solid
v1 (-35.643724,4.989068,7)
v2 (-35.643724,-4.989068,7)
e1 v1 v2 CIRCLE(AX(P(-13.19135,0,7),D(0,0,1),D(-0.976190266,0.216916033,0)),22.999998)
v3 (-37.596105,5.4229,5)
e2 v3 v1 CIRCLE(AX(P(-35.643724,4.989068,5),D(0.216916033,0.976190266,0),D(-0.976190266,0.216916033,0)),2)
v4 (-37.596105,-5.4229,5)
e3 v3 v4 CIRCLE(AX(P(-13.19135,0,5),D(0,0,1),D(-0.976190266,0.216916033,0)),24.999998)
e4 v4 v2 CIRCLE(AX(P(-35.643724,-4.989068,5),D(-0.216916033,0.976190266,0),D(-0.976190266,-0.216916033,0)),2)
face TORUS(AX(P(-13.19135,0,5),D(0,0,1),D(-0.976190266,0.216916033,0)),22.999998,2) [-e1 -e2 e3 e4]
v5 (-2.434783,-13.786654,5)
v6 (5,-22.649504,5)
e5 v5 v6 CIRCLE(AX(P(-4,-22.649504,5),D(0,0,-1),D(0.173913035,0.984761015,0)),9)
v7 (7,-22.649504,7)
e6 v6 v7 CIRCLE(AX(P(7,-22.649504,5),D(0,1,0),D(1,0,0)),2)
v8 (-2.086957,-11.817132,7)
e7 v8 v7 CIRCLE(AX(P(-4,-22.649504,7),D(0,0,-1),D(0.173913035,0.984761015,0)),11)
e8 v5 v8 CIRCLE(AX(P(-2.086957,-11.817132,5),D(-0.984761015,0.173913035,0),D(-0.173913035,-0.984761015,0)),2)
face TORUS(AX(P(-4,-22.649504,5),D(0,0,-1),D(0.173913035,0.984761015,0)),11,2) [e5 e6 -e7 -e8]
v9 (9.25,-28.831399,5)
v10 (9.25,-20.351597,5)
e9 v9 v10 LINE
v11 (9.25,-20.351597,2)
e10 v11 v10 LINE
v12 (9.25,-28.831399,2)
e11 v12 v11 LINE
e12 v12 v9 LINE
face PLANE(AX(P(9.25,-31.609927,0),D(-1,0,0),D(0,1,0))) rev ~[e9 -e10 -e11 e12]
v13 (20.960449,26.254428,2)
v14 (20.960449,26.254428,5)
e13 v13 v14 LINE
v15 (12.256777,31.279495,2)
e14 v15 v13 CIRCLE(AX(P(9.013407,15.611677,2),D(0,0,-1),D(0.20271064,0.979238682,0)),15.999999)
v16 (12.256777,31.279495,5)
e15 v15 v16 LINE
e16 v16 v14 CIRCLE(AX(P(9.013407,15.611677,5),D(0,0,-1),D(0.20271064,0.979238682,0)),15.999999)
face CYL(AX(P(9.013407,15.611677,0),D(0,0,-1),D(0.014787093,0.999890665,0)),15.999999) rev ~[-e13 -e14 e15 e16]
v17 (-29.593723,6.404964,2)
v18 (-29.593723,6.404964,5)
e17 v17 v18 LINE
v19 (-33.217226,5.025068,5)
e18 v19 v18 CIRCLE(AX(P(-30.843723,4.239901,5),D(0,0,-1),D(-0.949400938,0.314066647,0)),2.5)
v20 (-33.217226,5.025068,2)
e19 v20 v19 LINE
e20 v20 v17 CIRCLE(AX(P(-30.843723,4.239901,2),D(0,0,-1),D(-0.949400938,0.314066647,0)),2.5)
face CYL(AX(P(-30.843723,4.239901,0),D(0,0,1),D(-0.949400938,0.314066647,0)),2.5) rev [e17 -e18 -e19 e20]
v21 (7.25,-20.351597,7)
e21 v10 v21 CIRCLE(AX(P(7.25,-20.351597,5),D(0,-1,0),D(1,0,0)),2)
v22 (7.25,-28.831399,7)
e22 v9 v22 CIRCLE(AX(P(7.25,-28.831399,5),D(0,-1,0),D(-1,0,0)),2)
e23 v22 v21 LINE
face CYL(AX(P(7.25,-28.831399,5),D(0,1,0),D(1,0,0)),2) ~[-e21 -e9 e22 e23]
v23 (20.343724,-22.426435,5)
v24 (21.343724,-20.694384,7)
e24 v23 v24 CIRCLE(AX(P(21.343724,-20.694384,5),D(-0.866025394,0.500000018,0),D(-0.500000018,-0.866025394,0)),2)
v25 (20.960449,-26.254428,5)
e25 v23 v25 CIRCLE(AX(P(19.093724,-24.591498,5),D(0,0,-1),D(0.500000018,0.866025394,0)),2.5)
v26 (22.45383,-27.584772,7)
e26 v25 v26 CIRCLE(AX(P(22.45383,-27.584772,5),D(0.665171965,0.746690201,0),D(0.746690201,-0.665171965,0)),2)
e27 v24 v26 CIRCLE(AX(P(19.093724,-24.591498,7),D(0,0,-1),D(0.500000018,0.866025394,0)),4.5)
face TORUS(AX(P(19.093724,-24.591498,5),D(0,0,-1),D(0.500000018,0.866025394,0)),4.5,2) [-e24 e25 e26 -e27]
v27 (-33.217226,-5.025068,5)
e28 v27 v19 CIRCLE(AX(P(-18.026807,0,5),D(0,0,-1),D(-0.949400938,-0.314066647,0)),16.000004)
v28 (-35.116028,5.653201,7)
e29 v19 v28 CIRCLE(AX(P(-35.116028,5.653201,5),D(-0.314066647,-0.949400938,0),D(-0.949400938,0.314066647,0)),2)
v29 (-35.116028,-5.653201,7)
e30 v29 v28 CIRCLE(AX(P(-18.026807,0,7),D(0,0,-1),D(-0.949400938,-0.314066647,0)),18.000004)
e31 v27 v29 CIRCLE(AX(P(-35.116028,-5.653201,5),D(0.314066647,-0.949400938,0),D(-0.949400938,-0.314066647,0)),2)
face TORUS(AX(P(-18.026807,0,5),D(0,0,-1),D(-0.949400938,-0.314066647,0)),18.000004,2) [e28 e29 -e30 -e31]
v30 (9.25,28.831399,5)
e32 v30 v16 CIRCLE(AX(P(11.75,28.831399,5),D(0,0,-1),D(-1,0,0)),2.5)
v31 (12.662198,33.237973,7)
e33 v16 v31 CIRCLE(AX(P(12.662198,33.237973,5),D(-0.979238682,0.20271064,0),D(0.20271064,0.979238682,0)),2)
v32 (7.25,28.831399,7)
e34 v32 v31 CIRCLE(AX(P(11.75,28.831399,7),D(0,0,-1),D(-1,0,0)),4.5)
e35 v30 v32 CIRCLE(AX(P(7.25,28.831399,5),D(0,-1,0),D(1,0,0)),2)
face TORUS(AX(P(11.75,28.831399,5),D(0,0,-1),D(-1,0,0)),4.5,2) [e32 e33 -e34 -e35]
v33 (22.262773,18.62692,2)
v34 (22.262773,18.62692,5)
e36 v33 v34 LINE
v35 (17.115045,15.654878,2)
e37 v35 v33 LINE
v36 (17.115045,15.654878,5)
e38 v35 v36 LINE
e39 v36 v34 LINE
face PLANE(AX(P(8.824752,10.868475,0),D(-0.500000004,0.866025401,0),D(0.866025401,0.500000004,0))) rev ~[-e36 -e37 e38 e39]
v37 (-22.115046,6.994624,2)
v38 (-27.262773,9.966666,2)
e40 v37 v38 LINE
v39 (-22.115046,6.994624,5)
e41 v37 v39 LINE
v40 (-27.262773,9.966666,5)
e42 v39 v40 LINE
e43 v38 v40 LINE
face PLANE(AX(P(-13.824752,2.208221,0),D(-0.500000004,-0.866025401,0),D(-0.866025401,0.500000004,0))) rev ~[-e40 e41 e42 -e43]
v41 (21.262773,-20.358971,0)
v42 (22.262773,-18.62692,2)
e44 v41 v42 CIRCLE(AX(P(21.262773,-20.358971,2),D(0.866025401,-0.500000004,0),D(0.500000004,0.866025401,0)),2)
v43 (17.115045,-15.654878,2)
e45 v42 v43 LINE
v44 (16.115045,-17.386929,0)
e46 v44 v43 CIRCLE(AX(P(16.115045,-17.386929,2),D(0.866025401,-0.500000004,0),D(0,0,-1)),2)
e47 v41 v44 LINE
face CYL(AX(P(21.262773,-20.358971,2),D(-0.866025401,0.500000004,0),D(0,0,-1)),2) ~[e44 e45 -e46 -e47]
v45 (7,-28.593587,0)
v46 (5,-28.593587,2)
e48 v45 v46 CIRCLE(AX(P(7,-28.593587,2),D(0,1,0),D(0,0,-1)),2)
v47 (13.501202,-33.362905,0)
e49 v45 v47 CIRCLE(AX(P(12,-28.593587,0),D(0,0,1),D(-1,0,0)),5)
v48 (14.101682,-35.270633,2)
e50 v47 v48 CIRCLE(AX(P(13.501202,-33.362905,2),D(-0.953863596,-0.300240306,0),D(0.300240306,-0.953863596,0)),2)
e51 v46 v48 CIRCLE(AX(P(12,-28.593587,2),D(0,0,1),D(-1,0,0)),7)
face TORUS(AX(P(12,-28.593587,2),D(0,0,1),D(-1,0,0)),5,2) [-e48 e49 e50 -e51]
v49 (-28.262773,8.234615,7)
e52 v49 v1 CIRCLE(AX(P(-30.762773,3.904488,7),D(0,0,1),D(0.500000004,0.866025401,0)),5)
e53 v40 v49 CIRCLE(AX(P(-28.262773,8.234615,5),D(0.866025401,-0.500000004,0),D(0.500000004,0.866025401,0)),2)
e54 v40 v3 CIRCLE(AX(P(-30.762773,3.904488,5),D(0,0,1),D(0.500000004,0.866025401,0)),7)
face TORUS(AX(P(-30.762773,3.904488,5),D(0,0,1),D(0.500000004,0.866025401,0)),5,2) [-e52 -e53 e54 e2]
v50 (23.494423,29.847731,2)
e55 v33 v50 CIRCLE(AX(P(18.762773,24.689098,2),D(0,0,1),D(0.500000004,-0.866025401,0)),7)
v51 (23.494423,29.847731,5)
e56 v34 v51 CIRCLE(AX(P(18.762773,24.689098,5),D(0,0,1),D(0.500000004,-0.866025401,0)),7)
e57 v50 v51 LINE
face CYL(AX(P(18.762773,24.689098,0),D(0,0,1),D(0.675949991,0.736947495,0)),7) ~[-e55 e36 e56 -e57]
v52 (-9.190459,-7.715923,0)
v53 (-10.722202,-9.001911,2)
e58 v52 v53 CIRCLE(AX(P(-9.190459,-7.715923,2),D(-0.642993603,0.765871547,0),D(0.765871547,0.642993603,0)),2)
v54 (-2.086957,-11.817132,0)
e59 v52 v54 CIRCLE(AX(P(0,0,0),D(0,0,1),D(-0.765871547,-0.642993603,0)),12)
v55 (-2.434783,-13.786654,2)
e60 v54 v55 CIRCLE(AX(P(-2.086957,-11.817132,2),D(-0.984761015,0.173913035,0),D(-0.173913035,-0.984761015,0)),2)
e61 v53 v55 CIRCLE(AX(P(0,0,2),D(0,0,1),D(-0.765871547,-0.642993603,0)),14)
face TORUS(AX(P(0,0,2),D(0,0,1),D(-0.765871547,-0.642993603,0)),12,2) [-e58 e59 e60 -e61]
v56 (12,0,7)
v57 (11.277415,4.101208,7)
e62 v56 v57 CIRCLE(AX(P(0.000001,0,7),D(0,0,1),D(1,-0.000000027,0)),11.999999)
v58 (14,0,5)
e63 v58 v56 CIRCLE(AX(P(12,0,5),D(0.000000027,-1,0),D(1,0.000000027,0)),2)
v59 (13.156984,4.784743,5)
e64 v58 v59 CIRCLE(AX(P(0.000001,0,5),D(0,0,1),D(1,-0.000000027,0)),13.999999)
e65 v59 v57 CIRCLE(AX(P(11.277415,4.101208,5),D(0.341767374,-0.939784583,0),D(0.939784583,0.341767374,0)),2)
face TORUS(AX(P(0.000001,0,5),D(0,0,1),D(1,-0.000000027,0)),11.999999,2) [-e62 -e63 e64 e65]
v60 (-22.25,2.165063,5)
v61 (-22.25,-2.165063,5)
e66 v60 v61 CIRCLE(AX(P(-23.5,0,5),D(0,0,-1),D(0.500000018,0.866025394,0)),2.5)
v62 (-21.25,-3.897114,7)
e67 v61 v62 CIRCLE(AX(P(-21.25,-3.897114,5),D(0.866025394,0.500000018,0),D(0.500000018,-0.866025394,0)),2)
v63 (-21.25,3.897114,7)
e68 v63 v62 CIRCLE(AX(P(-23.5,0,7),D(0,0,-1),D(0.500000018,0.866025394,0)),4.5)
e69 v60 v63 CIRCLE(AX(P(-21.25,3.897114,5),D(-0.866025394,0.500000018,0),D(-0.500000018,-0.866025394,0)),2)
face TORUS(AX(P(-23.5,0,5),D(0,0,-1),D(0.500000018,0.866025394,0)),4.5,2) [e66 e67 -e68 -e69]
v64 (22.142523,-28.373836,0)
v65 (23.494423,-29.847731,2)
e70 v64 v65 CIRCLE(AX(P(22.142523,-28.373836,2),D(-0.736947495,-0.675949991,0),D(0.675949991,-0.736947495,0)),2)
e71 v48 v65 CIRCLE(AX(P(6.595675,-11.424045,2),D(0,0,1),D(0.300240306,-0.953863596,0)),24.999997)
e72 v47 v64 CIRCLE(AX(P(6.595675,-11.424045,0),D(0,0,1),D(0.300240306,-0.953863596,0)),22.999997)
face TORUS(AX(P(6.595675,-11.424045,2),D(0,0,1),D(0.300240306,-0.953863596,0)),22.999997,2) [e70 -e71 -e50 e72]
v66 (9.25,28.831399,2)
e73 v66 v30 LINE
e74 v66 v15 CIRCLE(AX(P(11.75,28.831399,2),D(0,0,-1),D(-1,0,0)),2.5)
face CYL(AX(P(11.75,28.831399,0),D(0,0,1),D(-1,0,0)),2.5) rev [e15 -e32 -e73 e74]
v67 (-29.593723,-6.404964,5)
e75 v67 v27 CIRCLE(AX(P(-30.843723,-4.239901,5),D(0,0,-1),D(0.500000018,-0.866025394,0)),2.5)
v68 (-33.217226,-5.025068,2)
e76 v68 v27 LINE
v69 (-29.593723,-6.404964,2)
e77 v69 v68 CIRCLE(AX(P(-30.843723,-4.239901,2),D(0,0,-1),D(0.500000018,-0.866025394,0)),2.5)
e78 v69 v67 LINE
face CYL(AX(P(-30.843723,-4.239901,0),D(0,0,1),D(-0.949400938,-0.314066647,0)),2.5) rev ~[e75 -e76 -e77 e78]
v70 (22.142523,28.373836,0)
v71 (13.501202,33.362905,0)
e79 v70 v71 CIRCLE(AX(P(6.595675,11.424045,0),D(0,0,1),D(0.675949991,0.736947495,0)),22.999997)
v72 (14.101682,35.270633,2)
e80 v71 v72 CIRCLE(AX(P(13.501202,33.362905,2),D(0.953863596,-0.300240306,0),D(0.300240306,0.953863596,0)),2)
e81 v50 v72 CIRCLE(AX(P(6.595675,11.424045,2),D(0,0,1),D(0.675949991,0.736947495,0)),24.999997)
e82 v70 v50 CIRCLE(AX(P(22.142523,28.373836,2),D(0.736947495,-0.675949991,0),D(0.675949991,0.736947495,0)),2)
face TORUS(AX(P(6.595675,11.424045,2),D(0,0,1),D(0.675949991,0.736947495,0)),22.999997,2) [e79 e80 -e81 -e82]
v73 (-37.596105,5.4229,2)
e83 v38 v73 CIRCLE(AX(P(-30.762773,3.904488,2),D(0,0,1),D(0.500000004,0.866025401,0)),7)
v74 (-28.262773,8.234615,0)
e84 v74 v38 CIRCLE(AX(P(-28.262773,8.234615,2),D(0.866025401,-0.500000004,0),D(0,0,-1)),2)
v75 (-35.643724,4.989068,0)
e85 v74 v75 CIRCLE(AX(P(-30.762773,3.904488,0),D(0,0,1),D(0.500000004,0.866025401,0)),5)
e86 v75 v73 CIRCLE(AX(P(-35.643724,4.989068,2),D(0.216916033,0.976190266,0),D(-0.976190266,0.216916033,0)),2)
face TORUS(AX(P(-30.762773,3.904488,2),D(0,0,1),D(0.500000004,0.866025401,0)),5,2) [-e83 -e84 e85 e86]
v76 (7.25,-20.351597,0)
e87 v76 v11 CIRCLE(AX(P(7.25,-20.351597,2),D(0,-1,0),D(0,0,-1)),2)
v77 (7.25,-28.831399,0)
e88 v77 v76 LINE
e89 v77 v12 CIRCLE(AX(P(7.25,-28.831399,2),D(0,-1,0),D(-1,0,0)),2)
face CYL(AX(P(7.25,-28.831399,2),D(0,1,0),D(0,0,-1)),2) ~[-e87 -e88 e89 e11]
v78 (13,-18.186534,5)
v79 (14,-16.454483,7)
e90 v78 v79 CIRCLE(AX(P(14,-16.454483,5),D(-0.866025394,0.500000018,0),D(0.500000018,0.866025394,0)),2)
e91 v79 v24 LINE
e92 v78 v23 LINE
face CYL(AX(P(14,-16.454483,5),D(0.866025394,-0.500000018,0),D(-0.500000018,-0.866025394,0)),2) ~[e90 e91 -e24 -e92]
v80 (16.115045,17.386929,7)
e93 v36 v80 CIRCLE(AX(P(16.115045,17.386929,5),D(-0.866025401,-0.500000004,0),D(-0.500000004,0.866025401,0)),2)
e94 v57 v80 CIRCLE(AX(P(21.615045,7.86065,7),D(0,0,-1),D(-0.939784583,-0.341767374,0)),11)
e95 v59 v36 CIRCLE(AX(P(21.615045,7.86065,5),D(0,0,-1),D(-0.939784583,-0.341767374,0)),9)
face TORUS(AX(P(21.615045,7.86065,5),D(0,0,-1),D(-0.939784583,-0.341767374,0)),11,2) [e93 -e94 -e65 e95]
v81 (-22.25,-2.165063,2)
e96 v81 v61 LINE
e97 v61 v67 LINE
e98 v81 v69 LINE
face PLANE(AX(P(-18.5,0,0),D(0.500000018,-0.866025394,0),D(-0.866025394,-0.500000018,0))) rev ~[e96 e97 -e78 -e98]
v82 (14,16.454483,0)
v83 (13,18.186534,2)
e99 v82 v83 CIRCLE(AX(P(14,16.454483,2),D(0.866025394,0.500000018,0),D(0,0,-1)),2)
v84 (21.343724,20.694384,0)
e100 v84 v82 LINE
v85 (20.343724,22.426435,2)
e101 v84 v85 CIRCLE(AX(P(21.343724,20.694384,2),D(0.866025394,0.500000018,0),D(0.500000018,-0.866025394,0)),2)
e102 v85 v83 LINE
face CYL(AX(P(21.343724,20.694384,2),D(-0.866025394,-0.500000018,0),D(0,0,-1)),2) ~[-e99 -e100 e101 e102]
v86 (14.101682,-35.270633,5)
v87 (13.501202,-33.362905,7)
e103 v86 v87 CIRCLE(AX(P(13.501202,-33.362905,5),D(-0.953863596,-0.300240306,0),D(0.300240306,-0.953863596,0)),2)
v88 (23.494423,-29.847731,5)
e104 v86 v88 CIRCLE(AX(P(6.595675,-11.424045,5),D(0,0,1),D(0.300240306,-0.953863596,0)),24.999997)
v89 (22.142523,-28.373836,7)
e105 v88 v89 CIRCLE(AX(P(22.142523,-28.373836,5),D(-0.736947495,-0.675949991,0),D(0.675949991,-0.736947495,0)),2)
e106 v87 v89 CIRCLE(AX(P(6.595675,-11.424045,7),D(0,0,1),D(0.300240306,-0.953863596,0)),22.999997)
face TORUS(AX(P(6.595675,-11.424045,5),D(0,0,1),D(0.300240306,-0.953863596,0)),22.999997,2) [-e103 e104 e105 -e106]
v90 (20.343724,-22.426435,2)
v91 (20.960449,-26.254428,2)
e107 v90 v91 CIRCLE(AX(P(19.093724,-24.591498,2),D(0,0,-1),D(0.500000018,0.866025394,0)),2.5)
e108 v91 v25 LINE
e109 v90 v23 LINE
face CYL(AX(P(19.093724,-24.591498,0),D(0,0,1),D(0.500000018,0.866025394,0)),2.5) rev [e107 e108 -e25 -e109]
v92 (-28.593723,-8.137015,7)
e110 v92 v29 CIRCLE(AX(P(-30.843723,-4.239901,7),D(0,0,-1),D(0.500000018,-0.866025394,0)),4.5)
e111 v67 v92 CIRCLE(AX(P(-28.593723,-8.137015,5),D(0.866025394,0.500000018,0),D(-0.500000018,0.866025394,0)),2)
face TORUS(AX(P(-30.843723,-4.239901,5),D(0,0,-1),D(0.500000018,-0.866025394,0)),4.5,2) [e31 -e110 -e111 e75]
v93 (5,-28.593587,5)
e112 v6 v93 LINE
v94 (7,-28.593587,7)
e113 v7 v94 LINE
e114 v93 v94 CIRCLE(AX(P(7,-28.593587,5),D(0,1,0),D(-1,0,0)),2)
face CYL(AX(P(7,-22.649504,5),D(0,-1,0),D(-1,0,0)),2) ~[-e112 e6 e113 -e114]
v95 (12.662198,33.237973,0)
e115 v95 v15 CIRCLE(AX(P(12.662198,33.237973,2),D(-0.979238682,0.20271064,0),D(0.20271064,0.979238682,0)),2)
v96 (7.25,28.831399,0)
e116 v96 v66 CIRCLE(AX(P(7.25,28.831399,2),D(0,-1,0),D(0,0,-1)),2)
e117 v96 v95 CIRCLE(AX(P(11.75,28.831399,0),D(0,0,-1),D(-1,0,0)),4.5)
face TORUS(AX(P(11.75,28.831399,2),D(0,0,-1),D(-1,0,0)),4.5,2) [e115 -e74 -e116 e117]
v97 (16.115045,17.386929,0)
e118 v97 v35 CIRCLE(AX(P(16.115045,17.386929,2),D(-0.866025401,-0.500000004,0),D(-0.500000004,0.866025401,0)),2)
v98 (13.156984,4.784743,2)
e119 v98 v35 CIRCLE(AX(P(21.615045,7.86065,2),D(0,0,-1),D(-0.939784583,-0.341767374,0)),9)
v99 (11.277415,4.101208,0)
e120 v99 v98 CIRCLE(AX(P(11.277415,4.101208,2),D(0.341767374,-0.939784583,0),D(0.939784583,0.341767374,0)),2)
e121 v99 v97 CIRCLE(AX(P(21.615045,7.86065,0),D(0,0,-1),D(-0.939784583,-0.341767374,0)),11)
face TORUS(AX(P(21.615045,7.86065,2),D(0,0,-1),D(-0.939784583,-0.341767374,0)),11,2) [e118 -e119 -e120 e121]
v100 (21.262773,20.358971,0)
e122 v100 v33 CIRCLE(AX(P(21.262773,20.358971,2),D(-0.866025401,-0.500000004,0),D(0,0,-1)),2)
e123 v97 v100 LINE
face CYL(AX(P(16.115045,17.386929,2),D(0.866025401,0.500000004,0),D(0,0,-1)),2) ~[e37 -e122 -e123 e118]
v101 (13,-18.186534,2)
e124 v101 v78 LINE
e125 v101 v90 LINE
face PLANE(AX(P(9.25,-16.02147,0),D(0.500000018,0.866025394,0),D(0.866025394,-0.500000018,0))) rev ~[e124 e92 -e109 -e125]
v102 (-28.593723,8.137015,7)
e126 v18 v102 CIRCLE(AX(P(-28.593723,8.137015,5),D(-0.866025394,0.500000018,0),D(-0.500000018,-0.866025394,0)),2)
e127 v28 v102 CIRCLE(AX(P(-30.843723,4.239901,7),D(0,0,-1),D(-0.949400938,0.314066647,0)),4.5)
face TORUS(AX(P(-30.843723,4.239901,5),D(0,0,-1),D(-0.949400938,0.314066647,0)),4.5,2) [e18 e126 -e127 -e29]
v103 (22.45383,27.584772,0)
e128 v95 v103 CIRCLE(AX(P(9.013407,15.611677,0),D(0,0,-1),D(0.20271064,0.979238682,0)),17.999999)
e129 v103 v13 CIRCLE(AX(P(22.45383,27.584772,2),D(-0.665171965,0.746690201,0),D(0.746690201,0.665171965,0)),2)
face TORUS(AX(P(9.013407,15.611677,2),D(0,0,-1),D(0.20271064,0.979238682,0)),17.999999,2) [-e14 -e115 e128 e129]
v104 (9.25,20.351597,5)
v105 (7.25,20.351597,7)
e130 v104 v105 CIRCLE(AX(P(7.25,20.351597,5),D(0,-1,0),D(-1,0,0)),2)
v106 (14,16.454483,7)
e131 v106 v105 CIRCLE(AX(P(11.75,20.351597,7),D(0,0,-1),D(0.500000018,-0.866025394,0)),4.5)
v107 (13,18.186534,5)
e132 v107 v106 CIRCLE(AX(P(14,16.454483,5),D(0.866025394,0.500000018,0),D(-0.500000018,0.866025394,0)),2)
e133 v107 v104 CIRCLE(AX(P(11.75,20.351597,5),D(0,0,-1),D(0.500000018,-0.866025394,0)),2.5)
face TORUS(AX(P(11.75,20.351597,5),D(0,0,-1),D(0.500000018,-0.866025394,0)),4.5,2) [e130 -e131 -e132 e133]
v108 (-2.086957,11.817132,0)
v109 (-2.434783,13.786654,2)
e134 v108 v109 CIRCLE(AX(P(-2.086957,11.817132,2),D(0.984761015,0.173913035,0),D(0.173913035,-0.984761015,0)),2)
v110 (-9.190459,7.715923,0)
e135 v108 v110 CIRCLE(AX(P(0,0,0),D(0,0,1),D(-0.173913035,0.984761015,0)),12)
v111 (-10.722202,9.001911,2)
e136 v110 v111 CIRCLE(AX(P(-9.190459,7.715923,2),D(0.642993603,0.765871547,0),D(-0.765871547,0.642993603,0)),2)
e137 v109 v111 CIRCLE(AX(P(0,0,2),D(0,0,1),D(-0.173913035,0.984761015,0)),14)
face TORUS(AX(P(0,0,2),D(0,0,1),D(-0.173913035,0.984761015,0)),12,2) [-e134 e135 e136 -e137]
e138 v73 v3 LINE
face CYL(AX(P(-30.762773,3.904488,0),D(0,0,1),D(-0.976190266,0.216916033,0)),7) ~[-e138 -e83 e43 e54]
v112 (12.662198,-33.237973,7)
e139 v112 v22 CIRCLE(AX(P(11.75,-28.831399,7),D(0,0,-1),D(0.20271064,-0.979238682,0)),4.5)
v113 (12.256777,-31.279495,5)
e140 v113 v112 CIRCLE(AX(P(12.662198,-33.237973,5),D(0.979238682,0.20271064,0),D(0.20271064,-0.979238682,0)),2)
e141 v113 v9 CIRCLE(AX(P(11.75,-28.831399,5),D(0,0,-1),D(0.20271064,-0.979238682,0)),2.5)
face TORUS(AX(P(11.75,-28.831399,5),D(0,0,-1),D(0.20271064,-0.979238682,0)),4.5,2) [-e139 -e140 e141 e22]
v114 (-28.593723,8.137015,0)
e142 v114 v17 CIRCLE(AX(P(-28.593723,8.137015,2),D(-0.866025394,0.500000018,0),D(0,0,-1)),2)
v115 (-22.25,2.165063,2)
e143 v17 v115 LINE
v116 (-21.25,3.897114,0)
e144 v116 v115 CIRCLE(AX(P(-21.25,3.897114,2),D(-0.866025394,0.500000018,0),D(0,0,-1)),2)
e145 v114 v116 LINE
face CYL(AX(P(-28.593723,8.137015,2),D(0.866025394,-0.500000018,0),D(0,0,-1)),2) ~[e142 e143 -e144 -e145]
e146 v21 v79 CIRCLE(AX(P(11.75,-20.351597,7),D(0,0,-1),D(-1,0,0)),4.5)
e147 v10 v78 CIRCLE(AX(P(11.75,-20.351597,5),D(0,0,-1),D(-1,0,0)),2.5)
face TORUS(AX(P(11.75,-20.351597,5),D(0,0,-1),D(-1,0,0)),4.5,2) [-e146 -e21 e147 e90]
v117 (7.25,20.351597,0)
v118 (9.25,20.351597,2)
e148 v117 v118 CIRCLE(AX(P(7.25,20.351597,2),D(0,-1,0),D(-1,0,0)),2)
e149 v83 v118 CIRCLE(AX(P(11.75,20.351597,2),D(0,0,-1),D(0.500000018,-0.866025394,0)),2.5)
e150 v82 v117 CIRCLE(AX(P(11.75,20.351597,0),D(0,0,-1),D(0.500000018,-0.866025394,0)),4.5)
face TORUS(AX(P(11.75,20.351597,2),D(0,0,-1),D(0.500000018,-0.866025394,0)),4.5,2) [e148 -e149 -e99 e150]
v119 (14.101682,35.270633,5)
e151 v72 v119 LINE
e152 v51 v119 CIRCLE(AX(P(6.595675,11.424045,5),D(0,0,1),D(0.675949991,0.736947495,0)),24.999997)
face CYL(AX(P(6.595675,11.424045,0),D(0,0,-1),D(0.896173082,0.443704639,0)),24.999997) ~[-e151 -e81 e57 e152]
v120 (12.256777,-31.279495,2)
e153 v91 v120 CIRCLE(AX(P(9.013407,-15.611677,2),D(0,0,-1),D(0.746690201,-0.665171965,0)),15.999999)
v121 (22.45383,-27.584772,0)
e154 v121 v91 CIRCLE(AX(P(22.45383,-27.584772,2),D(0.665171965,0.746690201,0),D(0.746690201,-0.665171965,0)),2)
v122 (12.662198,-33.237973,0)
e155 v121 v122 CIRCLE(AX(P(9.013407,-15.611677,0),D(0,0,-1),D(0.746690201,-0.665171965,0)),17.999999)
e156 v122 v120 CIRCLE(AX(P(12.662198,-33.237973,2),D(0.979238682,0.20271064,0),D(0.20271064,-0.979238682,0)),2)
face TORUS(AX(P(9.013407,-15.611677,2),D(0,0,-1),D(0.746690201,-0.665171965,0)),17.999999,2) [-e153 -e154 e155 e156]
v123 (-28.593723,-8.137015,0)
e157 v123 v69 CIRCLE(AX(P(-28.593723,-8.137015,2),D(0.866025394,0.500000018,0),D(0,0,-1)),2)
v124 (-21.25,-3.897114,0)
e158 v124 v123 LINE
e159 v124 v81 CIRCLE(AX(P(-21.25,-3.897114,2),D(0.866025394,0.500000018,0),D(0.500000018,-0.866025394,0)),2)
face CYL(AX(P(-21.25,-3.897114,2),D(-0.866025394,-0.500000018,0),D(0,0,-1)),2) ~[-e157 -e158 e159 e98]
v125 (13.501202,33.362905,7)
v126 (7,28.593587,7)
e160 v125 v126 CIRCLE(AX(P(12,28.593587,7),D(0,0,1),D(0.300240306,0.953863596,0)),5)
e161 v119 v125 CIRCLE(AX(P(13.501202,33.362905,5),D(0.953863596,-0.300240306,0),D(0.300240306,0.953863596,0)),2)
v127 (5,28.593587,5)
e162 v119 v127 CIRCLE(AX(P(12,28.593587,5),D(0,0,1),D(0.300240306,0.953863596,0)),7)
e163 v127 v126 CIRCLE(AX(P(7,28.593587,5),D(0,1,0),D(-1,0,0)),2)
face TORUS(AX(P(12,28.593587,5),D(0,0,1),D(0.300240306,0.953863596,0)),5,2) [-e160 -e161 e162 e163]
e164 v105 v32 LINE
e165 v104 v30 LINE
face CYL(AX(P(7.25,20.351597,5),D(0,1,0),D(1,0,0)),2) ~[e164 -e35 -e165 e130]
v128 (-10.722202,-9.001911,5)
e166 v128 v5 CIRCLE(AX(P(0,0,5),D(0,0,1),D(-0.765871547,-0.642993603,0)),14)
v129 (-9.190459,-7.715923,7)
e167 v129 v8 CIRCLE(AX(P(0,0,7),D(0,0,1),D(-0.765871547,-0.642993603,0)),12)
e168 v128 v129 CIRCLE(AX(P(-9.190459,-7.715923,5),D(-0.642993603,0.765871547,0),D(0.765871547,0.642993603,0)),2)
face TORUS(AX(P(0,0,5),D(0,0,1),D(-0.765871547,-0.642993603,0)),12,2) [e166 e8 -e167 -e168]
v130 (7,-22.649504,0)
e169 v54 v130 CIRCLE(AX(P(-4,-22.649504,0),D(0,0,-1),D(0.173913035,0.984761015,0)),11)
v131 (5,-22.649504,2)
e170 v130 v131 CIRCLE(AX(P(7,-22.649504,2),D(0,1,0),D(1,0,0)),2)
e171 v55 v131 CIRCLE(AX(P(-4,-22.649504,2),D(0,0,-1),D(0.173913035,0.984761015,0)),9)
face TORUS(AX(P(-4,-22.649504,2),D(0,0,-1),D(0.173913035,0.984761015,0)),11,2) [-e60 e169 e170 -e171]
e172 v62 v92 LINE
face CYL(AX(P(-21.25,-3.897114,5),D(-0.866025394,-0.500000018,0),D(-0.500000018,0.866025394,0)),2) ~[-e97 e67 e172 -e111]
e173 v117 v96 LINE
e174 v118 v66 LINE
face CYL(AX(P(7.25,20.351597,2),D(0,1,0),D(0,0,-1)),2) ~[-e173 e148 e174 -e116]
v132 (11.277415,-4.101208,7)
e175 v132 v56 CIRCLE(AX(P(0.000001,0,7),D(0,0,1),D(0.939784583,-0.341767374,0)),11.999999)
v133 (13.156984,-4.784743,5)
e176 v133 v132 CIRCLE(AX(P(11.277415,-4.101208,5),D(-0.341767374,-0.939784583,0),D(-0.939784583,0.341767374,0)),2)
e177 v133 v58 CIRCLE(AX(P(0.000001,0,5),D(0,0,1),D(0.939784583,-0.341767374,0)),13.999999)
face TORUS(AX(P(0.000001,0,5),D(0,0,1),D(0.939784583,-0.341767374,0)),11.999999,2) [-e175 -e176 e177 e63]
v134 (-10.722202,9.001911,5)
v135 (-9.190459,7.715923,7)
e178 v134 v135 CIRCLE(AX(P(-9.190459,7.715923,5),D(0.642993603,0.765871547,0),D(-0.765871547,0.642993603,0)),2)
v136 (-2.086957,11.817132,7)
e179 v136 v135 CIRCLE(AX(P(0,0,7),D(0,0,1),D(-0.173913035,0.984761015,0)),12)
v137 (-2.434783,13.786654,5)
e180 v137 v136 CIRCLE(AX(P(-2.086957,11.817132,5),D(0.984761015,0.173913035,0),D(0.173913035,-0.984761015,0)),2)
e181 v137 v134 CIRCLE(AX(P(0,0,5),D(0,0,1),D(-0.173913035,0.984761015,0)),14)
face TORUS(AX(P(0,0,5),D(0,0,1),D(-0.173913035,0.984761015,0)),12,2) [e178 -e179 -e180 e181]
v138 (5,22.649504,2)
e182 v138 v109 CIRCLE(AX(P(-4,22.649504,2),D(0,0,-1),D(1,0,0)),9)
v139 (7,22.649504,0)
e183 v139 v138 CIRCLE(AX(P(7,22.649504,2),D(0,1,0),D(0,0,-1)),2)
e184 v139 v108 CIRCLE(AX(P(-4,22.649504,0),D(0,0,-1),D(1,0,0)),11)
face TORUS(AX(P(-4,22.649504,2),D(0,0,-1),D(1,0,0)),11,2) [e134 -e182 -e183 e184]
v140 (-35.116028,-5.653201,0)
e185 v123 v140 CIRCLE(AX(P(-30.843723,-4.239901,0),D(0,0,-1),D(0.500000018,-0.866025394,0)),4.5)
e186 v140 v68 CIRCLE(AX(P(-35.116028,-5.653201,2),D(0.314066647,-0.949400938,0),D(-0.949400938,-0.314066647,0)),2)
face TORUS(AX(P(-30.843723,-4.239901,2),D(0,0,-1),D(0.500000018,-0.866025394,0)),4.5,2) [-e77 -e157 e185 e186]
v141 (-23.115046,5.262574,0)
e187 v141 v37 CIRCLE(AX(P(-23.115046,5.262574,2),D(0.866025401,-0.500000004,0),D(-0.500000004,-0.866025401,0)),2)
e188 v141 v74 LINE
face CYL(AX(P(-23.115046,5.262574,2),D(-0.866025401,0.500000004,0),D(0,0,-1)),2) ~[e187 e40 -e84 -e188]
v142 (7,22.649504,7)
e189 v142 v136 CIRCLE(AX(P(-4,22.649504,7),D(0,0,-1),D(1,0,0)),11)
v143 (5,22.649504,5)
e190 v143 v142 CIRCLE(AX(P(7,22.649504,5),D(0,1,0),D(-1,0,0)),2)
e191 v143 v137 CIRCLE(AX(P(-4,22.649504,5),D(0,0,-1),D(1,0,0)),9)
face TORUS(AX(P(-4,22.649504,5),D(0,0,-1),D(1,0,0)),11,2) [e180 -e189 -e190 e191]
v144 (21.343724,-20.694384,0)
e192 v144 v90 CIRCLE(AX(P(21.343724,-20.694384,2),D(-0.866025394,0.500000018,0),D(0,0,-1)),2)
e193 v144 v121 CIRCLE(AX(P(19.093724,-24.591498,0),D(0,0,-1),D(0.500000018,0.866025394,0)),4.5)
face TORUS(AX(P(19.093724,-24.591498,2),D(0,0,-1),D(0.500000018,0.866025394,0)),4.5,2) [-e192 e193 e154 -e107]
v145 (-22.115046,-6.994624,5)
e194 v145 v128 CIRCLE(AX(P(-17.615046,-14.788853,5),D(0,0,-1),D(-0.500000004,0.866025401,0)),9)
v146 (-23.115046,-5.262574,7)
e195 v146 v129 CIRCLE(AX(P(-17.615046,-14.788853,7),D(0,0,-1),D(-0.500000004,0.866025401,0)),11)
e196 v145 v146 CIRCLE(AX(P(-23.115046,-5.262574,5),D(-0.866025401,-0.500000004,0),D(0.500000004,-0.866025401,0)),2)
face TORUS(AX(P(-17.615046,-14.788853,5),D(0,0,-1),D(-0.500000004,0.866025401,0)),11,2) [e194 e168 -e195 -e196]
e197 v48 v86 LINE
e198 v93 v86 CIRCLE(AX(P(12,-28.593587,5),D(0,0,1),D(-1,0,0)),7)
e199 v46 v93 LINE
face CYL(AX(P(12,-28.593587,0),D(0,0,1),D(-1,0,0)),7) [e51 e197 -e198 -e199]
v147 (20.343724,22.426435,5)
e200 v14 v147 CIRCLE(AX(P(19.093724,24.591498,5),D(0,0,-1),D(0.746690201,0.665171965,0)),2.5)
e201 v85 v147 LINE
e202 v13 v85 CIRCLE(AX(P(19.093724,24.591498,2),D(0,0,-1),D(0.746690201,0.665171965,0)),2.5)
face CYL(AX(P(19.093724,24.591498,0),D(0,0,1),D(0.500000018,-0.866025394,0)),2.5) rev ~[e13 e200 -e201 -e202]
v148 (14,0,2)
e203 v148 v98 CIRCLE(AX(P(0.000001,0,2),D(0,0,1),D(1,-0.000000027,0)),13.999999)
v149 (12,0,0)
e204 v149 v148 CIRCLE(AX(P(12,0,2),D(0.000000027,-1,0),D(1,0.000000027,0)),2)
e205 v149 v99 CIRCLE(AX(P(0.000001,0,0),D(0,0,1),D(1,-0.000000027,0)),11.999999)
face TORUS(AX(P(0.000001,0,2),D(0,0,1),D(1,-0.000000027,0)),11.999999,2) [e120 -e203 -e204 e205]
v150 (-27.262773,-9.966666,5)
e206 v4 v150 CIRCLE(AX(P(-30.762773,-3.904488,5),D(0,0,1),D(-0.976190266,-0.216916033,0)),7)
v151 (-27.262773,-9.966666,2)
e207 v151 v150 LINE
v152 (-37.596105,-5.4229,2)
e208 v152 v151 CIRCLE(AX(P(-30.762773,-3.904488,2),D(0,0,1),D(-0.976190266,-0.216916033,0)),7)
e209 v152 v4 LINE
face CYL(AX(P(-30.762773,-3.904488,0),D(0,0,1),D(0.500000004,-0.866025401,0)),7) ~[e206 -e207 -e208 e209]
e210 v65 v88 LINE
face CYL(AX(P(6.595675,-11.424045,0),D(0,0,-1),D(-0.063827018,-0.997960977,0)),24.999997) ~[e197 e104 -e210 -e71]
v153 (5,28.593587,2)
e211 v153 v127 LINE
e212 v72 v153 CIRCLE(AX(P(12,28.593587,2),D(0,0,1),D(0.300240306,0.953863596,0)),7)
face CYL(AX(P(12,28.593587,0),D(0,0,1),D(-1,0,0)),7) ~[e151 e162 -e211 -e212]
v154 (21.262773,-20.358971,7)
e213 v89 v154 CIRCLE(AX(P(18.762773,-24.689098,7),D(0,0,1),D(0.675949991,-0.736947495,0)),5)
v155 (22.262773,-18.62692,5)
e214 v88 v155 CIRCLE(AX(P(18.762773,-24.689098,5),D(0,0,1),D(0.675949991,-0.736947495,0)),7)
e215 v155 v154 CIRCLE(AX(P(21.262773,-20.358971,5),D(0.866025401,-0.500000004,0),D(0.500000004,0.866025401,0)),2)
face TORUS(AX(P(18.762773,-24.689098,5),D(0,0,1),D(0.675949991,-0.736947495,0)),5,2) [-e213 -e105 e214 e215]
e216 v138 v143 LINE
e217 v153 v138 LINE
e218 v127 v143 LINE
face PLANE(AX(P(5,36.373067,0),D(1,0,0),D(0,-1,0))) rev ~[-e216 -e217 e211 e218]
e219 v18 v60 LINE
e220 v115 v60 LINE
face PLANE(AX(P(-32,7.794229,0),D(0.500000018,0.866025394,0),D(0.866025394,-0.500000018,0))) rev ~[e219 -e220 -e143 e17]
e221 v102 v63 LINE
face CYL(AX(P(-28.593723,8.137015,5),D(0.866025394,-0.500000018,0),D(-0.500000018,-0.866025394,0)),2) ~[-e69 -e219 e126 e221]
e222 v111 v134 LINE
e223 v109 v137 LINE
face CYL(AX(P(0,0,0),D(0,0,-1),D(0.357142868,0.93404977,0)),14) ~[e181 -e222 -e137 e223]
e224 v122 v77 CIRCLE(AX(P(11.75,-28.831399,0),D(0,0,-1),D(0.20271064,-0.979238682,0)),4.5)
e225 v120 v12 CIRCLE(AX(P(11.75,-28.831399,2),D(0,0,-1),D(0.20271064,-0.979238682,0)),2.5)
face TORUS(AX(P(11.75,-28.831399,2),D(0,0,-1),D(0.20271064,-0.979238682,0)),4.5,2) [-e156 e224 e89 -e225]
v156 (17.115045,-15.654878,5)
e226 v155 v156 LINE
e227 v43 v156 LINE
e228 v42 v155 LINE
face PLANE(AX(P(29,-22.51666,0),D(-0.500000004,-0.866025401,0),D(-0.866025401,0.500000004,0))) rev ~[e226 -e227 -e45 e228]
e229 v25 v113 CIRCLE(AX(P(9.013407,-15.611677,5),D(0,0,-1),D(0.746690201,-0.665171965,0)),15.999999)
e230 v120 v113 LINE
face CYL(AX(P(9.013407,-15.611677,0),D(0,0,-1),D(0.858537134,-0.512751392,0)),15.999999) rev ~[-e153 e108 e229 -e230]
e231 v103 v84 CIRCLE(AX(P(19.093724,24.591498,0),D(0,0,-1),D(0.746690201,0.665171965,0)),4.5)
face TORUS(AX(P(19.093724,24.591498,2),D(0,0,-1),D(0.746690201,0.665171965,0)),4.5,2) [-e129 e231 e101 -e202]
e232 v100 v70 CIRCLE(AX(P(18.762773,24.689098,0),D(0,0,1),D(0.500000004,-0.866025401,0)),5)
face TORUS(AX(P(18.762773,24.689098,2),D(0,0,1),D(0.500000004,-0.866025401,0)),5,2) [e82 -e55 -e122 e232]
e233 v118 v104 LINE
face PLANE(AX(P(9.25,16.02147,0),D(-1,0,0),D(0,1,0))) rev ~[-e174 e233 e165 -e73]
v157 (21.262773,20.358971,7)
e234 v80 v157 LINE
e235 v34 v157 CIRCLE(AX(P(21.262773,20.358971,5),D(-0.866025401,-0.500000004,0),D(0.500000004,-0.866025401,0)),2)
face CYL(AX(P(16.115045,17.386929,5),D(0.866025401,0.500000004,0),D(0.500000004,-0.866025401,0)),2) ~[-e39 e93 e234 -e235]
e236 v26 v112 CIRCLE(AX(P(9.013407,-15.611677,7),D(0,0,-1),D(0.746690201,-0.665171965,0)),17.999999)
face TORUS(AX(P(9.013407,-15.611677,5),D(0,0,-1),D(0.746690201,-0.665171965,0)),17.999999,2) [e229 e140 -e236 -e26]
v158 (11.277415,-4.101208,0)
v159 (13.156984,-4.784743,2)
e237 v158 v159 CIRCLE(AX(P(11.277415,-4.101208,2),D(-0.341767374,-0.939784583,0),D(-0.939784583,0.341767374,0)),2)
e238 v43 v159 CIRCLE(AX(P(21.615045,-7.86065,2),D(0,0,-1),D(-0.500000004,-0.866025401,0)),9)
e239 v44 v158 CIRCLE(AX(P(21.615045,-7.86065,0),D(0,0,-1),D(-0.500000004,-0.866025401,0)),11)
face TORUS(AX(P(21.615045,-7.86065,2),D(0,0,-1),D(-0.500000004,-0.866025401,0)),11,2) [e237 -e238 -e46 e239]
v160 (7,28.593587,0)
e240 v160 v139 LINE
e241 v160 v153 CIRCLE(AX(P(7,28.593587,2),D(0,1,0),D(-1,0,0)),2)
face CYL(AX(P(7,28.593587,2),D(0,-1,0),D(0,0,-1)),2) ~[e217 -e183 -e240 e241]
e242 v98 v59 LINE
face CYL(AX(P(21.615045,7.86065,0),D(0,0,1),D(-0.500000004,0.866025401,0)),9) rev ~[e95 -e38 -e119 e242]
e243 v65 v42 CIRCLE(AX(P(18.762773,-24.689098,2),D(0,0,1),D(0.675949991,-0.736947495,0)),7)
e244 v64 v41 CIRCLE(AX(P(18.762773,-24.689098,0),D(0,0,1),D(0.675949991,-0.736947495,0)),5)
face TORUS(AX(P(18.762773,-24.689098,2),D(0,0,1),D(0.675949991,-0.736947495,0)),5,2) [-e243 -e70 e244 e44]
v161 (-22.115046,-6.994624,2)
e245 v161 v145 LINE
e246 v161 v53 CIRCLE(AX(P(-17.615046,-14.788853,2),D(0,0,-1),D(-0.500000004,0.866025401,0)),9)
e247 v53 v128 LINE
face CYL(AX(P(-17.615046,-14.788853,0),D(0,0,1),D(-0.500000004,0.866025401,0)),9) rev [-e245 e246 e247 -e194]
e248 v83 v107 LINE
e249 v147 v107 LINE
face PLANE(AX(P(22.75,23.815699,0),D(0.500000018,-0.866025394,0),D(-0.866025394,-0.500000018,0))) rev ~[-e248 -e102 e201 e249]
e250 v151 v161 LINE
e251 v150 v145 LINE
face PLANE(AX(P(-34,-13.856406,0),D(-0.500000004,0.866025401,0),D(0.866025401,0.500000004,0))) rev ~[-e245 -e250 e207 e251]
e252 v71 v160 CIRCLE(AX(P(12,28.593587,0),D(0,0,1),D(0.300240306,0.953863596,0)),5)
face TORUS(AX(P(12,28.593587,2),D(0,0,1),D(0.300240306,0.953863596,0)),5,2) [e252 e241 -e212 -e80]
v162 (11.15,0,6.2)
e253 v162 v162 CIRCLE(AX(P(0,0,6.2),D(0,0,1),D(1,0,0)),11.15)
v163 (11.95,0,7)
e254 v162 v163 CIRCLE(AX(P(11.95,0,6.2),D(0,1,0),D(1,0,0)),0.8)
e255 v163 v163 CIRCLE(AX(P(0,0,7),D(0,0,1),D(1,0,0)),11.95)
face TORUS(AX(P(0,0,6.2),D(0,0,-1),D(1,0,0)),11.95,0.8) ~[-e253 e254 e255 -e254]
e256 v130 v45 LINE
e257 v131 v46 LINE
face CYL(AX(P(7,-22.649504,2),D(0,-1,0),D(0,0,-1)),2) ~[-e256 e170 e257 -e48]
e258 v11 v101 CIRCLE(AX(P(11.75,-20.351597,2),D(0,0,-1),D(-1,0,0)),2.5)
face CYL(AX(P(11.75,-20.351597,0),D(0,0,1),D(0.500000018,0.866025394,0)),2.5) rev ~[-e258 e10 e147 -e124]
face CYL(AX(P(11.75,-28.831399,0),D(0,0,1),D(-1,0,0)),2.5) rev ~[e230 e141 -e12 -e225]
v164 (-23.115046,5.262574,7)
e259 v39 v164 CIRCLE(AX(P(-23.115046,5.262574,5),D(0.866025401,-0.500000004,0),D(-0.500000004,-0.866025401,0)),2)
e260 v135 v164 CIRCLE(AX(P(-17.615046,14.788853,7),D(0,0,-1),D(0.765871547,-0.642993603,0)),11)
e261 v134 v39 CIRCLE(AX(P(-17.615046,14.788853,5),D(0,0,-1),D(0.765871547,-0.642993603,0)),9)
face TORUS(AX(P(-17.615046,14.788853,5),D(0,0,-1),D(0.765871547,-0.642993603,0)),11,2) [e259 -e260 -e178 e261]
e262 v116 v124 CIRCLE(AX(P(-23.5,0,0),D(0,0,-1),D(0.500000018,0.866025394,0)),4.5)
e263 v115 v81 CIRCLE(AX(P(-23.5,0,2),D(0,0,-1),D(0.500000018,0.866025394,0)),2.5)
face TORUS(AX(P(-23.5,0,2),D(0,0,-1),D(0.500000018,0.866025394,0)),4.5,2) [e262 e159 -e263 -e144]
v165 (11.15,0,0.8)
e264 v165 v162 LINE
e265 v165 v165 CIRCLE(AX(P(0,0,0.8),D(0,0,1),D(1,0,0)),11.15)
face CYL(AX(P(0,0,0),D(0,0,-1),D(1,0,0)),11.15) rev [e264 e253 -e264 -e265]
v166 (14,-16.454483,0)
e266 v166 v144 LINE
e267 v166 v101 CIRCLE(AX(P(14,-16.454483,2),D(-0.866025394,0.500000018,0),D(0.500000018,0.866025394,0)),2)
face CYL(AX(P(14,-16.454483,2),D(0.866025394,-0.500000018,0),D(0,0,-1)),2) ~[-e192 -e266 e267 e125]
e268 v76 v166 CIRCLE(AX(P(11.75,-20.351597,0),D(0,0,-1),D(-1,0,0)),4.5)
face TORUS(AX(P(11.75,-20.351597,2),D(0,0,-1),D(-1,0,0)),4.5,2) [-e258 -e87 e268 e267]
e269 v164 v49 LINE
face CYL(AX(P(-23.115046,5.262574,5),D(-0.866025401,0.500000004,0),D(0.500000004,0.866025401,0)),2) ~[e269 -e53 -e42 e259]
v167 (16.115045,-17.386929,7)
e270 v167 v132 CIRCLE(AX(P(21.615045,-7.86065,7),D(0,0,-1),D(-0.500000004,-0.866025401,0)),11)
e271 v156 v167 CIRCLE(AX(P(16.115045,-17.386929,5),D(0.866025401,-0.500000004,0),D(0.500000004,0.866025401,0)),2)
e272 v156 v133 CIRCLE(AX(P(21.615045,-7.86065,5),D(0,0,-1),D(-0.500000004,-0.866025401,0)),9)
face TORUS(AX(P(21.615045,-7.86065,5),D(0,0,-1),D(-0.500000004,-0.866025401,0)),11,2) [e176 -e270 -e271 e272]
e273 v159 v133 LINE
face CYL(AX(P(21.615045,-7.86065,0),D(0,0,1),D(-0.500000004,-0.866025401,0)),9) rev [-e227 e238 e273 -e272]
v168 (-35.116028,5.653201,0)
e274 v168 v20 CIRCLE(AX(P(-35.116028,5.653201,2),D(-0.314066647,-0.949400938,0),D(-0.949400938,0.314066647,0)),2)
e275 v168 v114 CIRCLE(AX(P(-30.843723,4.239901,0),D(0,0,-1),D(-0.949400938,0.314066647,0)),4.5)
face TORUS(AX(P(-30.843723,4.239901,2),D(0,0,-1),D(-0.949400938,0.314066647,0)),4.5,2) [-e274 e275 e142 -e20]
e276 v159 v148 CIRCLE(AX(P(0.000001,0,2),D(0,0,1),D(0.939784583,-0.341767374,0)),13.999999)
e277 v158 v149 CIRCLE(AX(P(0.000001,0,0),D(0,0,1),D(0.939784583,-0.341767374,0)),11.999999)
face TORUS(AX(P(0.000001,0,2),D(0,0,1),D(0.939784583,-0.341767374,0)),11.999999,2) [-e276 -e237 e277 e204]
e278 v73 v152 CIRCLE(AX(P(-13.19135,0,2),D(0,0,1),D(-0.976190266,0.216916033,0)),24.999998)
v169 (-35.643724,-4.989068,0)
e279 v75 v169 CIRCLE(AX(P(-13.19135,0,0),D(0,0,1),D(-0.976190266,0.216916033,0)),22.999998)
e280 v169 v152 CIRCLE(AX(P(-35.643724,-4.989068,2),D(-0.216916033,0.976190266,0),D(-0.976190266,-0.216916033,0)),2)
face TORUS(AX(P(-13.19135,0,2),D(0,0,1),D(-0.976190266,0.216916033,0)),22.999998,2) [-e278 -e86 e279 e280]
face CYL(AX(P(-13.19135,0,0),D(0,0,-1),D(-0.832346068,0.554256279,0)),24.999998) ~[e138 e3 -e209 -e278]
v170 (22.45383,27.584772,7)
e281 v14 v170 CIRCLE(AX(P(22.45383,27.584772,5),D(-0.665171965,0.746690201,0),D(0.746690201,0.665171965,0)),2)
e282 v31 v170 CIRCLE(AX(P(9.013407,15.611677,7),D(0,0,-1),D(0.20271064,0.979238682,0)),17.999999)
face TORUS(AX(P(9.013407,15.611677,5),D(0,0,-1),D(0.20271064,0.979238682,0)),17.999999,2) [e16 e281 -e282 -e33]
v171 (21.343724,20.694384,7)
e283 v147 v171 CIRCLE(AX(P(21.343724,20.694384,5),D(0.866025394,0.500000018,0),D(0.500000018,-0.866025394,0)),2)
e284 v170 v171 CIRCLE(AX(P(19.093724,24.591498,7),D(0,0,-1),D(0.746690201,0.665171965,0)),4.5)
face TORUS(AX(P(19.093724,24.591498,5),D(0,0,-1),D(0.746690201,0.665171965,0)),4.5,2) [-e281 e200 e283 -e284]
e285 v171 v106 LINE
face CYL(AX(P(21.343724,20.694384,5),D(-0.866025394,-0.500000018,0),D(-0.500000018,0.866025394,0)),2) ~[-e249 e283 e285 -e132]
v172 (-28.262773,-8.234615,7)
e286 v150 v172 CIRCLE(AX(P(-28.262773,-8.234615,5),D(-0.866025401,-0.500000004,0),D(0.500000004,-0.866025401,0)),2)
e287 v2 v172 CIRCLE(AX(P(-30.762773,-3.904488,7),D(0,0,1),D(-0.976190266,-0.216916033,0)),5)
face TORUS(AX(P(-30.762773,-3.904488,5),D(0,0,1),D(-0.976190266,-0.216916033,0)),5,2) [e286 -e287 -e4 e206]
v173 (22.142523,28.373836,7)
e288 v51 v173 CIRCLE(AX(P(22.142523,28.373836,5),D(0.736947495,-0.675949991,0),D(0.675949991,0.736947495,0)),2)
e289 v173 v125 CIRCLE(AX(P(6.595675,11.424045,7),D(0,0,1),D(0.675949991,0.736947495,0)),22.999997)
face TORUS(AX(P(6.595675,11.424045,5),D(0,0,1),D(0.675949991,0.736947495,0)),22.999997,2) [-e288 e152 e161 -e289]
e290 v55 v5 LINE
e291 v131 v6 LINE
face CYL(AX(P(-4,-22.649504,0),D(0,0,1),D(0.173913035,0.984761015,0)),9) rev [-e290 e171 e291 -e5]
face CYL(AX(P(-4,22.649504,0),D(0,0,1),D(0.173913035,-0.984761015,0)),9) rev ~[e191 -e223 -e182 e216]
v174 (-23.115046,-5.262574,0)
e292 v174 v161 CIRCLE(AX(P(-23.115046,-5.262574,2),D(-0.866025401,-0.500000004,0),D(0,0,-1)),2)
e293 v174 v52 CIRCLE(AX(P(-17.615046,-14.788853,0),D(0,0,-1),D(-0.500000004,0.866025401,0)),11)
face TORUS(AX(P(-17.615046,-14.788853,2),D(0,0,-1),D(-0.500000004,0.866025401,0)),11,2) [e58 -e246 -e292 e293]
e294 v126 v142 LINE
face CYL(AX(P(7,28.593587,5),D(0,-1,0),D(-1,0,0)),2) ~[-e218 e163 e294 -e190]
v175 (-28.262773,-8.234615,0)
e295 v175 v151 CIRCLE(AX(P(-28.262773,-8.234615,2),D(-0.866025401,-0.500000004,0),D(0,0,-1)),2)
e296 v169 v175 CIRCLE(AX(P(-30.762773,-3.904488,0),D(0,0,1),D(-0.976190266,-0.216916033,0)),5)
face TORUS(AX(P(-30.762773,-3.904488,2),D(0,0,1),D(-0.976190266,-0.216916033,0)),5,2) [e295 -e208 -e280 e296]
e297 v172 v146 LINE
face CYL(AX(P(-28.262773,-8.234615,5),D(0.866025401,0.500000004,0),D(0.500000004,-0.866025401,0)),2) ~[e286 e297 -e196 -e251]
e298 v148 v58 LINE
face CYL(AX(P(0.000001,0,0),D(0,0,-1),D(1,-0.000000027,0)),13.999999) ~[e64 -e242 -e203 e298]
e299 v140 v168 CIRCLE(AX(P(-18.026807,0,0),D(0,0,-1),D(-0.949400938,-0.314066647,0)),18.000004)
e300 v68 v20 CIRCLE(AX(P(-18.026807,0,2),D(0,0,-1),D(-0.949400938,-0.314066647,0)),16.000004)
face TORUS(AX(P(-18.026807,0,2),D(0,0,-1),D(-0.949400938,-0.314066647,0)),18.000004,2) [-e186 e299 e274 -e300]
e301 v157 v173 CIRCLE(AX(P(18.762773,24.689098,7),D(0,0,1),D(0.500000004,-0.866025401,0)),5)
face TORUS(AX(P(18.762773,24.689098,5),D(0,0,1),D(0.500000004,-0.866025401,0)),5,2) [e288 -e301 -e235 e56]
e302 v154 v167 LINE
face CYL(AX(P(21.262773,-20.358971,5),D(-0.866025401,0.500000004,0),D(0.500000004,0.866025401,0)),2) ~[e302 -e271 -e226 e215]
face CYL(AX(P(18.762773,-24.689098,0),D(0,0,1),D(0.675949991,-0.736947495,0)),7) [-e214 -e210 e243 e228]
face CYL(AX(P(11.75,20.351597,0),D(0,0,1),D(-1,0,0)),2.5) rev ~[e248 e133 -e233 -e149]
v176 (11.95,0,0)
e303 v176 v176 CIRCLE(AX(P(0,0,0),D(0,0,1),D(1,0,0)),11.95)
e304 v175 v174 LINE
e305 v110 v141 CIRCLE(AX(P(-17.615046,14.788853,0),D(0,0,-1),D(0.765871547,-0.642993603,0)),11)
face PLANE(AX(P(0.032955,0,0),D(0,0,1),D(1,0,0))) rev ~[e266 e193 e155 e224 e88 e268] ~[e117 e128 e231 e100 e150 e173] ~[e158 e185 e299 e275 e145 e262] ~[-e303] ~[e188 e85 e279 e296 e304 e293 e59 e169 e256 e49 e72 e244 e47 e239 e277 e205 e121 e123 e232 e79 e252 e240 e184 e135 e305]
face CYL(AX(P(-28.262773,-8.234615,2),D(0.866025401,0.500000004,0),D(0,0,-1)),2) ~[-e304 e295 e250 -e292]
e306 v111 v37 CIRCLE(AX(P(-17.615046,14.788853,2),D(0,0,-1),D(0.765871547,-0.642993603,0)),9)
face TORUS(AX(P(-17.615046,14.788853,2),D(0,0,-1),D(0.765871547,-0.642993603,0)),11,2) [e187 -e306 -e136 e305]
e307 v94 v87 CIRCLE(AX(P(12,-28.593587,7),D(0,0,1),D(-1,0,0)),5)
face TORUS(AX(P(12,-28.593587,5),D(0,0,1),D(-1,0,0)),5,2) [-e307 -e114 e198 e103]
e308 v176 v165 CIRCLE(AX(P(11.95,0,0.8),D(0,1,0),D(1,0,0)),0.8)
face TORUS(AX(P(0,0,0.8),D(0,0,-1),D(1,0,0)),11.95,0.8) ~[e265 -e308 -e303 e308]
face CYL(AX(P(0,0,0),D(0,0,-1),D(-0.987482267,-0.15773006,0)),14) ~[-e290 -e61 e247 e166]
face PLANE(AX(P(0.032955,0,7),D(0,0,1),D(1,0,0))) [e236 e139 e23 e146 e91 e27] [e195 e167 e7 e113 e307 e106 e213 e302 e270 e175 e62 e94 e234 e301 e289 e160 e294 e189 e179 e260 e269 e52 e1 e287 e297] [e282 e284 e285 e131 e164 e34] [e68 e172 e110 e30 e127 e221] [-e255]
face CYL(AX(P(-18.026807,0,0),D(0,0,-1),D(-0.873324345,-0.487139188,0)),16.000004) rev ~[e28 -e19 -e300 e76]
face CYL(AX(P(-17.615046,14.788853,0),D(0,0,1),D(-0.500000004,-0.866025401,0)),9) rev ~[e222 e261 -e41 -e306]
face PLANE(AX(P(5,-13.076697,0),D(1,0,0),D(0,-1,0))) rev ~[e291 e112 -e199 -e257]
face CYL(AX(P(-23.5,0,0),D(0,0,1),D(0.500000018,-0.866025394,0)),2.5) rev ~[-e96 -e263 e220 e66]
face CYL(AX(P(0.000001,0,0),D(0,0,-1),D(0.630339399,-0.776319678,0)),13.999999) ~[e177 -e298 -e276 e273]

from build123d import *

# Parameters (mm, degrees)
F0_R     = 11.15
F1_DEPTH = 7
F2_R     = 9
F3_R     = 7
F4_R     = 2.5
F5_R     = 0.8
F6_R     = 2


with BuildPart() as f1:
    # F0 (on Top) → F1 (new body)
    with BuildSketch(Plane.XY):
        with BuildLine():
            Line((-34, -13.856406), (-13.824752, -2.208221))
            ThreePointArc((-13.824752, -2.208221), (-7, -12.124356), (5, -13.076697))
            Line((5, -13.076697), (5, -36.373067))
            ThreePointArc((5, -36.373067), (19.095674, -33.074678), (29, -22.51666))
            Line((29, -22.51666), (8.824752, -10.868475))
            ThreePointArc((8.824752, -10.868475), (12.640145, -6.018865), (14, 0))
            ThreePointArc((14, 0), (12.640145, 6.018865), (8.824752, 10.868475))
            Line((8.824752, 10.868475), (29, 22.51666))
            ThreePointArc((29, 22.51666), (19.095674, 33.074678), (5, 36.373067))
            Line((5, 36.373067), (5, 13.076697))
            ThreePointArc((5, 13.076697), (-7, 12.124356), (-13.824752, 2.208221))
            Line((-13.824752, 2.208221), (-34, 13.856406))
            ThreePointArc((-34, 13.856406), (-38.191348, 0), (-34, -13.856406))
        make_face()
        with BuildLine():
            Line((-32, 7.794229), (-18.5, 0))
            Line((-18.5, 0), (-32, -7.794229))
            ThreePointArc((-32, -7.794229), (-34.026811, 0), (-32, 7.794229))
        make_face(mode=Mode.SUBTRACT)
        with BuildLine():
            ThreePointArc((22.75, -23.815699), (17.013406, -29.468083), (9.25, -31.609927))
            Line((9.25, -31.609927), (9.25, -16.02147))
            Line((9.25, -16.02147), (22.75, -23.815699))
        make_face(mode=Mode.SUBTRACT)
        Circle(F0_R, mode=Mode.SUBTRACT)
        with BuildLine():
            ThreePointArc((9.25, 31.609927), (17.013406, 29.468083), (22.75, 23.815699))
            Line((22.75, 23.815699), (9.25, 16.02147))
            Line((9.25, 16.02147), (9.25, 31.609927))
        make_face(mode=Mode.SUBTRACT)
    extrude(amount=F1_DEPTH)

    # F2
    f2_edges = [f1.edges().sort_by_distance(p)[0] for p in [
        (-13.824752, -2.208221, 3.5),
        (5, -13.076697, 3.5),
        (8.824752, -10.868475, 3.5),
        (8.824752, 10.868475, 3.5),
        (5, 13.076697, 3.5),
        (-13.824752, 2.208221, 3.5),
    ]]
    fillet(f2_edges, radius=F2_R)

    # F3
    f3_edges = [f1.edges().sort_by_distance(p)[0] for p in [
        (29, -22.51666, 3.5),
        (29, 22.51666, 3.5),
        (5, 36.373067, 3.5),
        (-34, 13.856406, 3.5),
        (-34, -13.856406, 3.5),
        (5, -36.373067, 3.5),
    ]]
    fillet(f3_edges, radius=F3_R)

    # F4
    f4_edges = [f1.edges().sort_by_distance(p)[0] for p in [
        (-32, 7.794229, 3.5),
        (-18.5, 0, 3.5),
        (-32, -7.794229, 3.5),
        (9.25, -31.609927, 3.5),
        (9.25, -16.02147, 3.5),
        (22.75, -23.815699, 3.5),
        (9.25, 16.02147, 3.5),
        (9.25, 31.609927, 3.5),
        (22.75, 23.815699, 3.5),
    ]]
    fillet(f4_edges, radius=F4_R)

    # F5
    f5_edges = [f1.edges().sort_by_distance(p)[0] for p in [
        (11.15, 0, 3.5),
        (-11.15, 0, 0),
        (-11.15, 0, 7),
    ]]
    fillet(f5_edges, radius=F5_R)

    # F6
    f6_edges = [f1.edges().sort_by_distance(p)[0] for p in [
        (-11.95, 0, 7),
        (-25.921862, 4.285014, 7),
        (-31.733439, 6.576224, 7),
        (-21, 0, 7),
        (-34.026811, 0, 7),
        (-25.921862, -4.285014, 7),
        (-31.733439, -6.576224, 7),
        (-24.688909, -8.480646, 7),
        (-33.580436, -10.312357, 7),
        (-16.053404, -5.925373, 7),
        (-38.191348, 0, 7),
        (-7, -12.124356, 7),
        (-33.580436, 10.312357, 7),
        (2.895178, -16.865342, 7),
        (-24.688909, 8.480646, 7),
        (5, -25.621545, 7),
        (-16.053404, 5.925373, 7),
        (7.859455, -34.237689, 7),
        (-7, 12.124356, 7),
        (19.095674, -33.074678, 7),
        (2.895178, 16.865342, 7),
        (25.720981, -23.925332, 7),
        (5, 25.621545, 7),
        (19.688909, -17.1409, 7),
        (7.859455, 34.237689, 7),
        (13.158226, -10.939969, 7),
        (19.095674, 33.074678, 7),
        (14, 0, 7),
        (25.720981, 23.925332, 7),
        (13.158226, 10.939969, 7),
        (19.688909, 17.1409, 7),
        (17.013406, -29.468083, 7),
        (21.561897, -24.193852, 7),
        (10.171542, -30.770076, 7),
        (16.671862, -20.306484, 7),
        (9.25, -24.591498, 7),
        (10.5, -18.186533, 7),
        (17.013406, 29.468083, 7),
        (10.171542, 30.770076, 7),
        (21.561897, 24.193852, 7),
        (9.25, 24.591498, 7),
        (16.671862, 20.306484, 7),
        (10.5, 18.186533, 7),
        (-11.95, 0, 0),
        (-25.921862, 4.285014, 0),
        (-31.733439, 6.576224, 0),
        (-21, 0, 0),
        (-34.026811, 0, 0),
        (-25.921862, -4.285014, 0),
        (-31.733439, -6.576224, 0),
        (-24.688909, -8.480646, 0),
        (-33.580436, -10.312357, 0),
        (-16.053404, -5.925373, 0),
        (-38.191348, 0, 0),
        (-7, -12.124356, 0),
        (-33.580436, 10.312357, 0),
        (2.895178, -16.865342, 0),
        (-24.688909, 8.480646, 0),
        (5, -25.621545, 0),
        (-16.053404, 5.925373, 0),
        (7.859455, -34.237689, 0),
        (-7, 12.124356, 0),
        (19.095674, -33.074678, 0),
        (2.895178, 16.865342, 0),
        (25.720981, -23.925332, 0),
        (5, 25.621545, 0),
        (19.688909, -17.1409, 0),
        (7.859455, 34.237689, 0),
        (13.158226, -10.939969, 0),
        (19.095674, 33.074678, 0),
        (14, 0, 0),
        (25.720981, 23.925332, 0),
        (13.158226, 10.939969, 0),
        (19.688909, 17.1409, 0),
        (17.013406, -29.468083, 0),
        (21.561897, -24.193852, 0),
        (10.171542, -30.770076, 0),
        (16.671862, -20.306484, 0),
        (9.25, -24.591498, 0),
        (10.5, -18.186533, 0),
        (17.013406, 29.468083, 0),
        (10.171542, 30.770076, 0),
        (21.561897, 24.193852, 0),
        (9.25, 24.591498, 0),
        (16.671862, 20.306484, 0),
        (10.5, 18.186533, 0),
    ]]
    fillet(f6_edges, radius=F6_R)


solid = f1.part
